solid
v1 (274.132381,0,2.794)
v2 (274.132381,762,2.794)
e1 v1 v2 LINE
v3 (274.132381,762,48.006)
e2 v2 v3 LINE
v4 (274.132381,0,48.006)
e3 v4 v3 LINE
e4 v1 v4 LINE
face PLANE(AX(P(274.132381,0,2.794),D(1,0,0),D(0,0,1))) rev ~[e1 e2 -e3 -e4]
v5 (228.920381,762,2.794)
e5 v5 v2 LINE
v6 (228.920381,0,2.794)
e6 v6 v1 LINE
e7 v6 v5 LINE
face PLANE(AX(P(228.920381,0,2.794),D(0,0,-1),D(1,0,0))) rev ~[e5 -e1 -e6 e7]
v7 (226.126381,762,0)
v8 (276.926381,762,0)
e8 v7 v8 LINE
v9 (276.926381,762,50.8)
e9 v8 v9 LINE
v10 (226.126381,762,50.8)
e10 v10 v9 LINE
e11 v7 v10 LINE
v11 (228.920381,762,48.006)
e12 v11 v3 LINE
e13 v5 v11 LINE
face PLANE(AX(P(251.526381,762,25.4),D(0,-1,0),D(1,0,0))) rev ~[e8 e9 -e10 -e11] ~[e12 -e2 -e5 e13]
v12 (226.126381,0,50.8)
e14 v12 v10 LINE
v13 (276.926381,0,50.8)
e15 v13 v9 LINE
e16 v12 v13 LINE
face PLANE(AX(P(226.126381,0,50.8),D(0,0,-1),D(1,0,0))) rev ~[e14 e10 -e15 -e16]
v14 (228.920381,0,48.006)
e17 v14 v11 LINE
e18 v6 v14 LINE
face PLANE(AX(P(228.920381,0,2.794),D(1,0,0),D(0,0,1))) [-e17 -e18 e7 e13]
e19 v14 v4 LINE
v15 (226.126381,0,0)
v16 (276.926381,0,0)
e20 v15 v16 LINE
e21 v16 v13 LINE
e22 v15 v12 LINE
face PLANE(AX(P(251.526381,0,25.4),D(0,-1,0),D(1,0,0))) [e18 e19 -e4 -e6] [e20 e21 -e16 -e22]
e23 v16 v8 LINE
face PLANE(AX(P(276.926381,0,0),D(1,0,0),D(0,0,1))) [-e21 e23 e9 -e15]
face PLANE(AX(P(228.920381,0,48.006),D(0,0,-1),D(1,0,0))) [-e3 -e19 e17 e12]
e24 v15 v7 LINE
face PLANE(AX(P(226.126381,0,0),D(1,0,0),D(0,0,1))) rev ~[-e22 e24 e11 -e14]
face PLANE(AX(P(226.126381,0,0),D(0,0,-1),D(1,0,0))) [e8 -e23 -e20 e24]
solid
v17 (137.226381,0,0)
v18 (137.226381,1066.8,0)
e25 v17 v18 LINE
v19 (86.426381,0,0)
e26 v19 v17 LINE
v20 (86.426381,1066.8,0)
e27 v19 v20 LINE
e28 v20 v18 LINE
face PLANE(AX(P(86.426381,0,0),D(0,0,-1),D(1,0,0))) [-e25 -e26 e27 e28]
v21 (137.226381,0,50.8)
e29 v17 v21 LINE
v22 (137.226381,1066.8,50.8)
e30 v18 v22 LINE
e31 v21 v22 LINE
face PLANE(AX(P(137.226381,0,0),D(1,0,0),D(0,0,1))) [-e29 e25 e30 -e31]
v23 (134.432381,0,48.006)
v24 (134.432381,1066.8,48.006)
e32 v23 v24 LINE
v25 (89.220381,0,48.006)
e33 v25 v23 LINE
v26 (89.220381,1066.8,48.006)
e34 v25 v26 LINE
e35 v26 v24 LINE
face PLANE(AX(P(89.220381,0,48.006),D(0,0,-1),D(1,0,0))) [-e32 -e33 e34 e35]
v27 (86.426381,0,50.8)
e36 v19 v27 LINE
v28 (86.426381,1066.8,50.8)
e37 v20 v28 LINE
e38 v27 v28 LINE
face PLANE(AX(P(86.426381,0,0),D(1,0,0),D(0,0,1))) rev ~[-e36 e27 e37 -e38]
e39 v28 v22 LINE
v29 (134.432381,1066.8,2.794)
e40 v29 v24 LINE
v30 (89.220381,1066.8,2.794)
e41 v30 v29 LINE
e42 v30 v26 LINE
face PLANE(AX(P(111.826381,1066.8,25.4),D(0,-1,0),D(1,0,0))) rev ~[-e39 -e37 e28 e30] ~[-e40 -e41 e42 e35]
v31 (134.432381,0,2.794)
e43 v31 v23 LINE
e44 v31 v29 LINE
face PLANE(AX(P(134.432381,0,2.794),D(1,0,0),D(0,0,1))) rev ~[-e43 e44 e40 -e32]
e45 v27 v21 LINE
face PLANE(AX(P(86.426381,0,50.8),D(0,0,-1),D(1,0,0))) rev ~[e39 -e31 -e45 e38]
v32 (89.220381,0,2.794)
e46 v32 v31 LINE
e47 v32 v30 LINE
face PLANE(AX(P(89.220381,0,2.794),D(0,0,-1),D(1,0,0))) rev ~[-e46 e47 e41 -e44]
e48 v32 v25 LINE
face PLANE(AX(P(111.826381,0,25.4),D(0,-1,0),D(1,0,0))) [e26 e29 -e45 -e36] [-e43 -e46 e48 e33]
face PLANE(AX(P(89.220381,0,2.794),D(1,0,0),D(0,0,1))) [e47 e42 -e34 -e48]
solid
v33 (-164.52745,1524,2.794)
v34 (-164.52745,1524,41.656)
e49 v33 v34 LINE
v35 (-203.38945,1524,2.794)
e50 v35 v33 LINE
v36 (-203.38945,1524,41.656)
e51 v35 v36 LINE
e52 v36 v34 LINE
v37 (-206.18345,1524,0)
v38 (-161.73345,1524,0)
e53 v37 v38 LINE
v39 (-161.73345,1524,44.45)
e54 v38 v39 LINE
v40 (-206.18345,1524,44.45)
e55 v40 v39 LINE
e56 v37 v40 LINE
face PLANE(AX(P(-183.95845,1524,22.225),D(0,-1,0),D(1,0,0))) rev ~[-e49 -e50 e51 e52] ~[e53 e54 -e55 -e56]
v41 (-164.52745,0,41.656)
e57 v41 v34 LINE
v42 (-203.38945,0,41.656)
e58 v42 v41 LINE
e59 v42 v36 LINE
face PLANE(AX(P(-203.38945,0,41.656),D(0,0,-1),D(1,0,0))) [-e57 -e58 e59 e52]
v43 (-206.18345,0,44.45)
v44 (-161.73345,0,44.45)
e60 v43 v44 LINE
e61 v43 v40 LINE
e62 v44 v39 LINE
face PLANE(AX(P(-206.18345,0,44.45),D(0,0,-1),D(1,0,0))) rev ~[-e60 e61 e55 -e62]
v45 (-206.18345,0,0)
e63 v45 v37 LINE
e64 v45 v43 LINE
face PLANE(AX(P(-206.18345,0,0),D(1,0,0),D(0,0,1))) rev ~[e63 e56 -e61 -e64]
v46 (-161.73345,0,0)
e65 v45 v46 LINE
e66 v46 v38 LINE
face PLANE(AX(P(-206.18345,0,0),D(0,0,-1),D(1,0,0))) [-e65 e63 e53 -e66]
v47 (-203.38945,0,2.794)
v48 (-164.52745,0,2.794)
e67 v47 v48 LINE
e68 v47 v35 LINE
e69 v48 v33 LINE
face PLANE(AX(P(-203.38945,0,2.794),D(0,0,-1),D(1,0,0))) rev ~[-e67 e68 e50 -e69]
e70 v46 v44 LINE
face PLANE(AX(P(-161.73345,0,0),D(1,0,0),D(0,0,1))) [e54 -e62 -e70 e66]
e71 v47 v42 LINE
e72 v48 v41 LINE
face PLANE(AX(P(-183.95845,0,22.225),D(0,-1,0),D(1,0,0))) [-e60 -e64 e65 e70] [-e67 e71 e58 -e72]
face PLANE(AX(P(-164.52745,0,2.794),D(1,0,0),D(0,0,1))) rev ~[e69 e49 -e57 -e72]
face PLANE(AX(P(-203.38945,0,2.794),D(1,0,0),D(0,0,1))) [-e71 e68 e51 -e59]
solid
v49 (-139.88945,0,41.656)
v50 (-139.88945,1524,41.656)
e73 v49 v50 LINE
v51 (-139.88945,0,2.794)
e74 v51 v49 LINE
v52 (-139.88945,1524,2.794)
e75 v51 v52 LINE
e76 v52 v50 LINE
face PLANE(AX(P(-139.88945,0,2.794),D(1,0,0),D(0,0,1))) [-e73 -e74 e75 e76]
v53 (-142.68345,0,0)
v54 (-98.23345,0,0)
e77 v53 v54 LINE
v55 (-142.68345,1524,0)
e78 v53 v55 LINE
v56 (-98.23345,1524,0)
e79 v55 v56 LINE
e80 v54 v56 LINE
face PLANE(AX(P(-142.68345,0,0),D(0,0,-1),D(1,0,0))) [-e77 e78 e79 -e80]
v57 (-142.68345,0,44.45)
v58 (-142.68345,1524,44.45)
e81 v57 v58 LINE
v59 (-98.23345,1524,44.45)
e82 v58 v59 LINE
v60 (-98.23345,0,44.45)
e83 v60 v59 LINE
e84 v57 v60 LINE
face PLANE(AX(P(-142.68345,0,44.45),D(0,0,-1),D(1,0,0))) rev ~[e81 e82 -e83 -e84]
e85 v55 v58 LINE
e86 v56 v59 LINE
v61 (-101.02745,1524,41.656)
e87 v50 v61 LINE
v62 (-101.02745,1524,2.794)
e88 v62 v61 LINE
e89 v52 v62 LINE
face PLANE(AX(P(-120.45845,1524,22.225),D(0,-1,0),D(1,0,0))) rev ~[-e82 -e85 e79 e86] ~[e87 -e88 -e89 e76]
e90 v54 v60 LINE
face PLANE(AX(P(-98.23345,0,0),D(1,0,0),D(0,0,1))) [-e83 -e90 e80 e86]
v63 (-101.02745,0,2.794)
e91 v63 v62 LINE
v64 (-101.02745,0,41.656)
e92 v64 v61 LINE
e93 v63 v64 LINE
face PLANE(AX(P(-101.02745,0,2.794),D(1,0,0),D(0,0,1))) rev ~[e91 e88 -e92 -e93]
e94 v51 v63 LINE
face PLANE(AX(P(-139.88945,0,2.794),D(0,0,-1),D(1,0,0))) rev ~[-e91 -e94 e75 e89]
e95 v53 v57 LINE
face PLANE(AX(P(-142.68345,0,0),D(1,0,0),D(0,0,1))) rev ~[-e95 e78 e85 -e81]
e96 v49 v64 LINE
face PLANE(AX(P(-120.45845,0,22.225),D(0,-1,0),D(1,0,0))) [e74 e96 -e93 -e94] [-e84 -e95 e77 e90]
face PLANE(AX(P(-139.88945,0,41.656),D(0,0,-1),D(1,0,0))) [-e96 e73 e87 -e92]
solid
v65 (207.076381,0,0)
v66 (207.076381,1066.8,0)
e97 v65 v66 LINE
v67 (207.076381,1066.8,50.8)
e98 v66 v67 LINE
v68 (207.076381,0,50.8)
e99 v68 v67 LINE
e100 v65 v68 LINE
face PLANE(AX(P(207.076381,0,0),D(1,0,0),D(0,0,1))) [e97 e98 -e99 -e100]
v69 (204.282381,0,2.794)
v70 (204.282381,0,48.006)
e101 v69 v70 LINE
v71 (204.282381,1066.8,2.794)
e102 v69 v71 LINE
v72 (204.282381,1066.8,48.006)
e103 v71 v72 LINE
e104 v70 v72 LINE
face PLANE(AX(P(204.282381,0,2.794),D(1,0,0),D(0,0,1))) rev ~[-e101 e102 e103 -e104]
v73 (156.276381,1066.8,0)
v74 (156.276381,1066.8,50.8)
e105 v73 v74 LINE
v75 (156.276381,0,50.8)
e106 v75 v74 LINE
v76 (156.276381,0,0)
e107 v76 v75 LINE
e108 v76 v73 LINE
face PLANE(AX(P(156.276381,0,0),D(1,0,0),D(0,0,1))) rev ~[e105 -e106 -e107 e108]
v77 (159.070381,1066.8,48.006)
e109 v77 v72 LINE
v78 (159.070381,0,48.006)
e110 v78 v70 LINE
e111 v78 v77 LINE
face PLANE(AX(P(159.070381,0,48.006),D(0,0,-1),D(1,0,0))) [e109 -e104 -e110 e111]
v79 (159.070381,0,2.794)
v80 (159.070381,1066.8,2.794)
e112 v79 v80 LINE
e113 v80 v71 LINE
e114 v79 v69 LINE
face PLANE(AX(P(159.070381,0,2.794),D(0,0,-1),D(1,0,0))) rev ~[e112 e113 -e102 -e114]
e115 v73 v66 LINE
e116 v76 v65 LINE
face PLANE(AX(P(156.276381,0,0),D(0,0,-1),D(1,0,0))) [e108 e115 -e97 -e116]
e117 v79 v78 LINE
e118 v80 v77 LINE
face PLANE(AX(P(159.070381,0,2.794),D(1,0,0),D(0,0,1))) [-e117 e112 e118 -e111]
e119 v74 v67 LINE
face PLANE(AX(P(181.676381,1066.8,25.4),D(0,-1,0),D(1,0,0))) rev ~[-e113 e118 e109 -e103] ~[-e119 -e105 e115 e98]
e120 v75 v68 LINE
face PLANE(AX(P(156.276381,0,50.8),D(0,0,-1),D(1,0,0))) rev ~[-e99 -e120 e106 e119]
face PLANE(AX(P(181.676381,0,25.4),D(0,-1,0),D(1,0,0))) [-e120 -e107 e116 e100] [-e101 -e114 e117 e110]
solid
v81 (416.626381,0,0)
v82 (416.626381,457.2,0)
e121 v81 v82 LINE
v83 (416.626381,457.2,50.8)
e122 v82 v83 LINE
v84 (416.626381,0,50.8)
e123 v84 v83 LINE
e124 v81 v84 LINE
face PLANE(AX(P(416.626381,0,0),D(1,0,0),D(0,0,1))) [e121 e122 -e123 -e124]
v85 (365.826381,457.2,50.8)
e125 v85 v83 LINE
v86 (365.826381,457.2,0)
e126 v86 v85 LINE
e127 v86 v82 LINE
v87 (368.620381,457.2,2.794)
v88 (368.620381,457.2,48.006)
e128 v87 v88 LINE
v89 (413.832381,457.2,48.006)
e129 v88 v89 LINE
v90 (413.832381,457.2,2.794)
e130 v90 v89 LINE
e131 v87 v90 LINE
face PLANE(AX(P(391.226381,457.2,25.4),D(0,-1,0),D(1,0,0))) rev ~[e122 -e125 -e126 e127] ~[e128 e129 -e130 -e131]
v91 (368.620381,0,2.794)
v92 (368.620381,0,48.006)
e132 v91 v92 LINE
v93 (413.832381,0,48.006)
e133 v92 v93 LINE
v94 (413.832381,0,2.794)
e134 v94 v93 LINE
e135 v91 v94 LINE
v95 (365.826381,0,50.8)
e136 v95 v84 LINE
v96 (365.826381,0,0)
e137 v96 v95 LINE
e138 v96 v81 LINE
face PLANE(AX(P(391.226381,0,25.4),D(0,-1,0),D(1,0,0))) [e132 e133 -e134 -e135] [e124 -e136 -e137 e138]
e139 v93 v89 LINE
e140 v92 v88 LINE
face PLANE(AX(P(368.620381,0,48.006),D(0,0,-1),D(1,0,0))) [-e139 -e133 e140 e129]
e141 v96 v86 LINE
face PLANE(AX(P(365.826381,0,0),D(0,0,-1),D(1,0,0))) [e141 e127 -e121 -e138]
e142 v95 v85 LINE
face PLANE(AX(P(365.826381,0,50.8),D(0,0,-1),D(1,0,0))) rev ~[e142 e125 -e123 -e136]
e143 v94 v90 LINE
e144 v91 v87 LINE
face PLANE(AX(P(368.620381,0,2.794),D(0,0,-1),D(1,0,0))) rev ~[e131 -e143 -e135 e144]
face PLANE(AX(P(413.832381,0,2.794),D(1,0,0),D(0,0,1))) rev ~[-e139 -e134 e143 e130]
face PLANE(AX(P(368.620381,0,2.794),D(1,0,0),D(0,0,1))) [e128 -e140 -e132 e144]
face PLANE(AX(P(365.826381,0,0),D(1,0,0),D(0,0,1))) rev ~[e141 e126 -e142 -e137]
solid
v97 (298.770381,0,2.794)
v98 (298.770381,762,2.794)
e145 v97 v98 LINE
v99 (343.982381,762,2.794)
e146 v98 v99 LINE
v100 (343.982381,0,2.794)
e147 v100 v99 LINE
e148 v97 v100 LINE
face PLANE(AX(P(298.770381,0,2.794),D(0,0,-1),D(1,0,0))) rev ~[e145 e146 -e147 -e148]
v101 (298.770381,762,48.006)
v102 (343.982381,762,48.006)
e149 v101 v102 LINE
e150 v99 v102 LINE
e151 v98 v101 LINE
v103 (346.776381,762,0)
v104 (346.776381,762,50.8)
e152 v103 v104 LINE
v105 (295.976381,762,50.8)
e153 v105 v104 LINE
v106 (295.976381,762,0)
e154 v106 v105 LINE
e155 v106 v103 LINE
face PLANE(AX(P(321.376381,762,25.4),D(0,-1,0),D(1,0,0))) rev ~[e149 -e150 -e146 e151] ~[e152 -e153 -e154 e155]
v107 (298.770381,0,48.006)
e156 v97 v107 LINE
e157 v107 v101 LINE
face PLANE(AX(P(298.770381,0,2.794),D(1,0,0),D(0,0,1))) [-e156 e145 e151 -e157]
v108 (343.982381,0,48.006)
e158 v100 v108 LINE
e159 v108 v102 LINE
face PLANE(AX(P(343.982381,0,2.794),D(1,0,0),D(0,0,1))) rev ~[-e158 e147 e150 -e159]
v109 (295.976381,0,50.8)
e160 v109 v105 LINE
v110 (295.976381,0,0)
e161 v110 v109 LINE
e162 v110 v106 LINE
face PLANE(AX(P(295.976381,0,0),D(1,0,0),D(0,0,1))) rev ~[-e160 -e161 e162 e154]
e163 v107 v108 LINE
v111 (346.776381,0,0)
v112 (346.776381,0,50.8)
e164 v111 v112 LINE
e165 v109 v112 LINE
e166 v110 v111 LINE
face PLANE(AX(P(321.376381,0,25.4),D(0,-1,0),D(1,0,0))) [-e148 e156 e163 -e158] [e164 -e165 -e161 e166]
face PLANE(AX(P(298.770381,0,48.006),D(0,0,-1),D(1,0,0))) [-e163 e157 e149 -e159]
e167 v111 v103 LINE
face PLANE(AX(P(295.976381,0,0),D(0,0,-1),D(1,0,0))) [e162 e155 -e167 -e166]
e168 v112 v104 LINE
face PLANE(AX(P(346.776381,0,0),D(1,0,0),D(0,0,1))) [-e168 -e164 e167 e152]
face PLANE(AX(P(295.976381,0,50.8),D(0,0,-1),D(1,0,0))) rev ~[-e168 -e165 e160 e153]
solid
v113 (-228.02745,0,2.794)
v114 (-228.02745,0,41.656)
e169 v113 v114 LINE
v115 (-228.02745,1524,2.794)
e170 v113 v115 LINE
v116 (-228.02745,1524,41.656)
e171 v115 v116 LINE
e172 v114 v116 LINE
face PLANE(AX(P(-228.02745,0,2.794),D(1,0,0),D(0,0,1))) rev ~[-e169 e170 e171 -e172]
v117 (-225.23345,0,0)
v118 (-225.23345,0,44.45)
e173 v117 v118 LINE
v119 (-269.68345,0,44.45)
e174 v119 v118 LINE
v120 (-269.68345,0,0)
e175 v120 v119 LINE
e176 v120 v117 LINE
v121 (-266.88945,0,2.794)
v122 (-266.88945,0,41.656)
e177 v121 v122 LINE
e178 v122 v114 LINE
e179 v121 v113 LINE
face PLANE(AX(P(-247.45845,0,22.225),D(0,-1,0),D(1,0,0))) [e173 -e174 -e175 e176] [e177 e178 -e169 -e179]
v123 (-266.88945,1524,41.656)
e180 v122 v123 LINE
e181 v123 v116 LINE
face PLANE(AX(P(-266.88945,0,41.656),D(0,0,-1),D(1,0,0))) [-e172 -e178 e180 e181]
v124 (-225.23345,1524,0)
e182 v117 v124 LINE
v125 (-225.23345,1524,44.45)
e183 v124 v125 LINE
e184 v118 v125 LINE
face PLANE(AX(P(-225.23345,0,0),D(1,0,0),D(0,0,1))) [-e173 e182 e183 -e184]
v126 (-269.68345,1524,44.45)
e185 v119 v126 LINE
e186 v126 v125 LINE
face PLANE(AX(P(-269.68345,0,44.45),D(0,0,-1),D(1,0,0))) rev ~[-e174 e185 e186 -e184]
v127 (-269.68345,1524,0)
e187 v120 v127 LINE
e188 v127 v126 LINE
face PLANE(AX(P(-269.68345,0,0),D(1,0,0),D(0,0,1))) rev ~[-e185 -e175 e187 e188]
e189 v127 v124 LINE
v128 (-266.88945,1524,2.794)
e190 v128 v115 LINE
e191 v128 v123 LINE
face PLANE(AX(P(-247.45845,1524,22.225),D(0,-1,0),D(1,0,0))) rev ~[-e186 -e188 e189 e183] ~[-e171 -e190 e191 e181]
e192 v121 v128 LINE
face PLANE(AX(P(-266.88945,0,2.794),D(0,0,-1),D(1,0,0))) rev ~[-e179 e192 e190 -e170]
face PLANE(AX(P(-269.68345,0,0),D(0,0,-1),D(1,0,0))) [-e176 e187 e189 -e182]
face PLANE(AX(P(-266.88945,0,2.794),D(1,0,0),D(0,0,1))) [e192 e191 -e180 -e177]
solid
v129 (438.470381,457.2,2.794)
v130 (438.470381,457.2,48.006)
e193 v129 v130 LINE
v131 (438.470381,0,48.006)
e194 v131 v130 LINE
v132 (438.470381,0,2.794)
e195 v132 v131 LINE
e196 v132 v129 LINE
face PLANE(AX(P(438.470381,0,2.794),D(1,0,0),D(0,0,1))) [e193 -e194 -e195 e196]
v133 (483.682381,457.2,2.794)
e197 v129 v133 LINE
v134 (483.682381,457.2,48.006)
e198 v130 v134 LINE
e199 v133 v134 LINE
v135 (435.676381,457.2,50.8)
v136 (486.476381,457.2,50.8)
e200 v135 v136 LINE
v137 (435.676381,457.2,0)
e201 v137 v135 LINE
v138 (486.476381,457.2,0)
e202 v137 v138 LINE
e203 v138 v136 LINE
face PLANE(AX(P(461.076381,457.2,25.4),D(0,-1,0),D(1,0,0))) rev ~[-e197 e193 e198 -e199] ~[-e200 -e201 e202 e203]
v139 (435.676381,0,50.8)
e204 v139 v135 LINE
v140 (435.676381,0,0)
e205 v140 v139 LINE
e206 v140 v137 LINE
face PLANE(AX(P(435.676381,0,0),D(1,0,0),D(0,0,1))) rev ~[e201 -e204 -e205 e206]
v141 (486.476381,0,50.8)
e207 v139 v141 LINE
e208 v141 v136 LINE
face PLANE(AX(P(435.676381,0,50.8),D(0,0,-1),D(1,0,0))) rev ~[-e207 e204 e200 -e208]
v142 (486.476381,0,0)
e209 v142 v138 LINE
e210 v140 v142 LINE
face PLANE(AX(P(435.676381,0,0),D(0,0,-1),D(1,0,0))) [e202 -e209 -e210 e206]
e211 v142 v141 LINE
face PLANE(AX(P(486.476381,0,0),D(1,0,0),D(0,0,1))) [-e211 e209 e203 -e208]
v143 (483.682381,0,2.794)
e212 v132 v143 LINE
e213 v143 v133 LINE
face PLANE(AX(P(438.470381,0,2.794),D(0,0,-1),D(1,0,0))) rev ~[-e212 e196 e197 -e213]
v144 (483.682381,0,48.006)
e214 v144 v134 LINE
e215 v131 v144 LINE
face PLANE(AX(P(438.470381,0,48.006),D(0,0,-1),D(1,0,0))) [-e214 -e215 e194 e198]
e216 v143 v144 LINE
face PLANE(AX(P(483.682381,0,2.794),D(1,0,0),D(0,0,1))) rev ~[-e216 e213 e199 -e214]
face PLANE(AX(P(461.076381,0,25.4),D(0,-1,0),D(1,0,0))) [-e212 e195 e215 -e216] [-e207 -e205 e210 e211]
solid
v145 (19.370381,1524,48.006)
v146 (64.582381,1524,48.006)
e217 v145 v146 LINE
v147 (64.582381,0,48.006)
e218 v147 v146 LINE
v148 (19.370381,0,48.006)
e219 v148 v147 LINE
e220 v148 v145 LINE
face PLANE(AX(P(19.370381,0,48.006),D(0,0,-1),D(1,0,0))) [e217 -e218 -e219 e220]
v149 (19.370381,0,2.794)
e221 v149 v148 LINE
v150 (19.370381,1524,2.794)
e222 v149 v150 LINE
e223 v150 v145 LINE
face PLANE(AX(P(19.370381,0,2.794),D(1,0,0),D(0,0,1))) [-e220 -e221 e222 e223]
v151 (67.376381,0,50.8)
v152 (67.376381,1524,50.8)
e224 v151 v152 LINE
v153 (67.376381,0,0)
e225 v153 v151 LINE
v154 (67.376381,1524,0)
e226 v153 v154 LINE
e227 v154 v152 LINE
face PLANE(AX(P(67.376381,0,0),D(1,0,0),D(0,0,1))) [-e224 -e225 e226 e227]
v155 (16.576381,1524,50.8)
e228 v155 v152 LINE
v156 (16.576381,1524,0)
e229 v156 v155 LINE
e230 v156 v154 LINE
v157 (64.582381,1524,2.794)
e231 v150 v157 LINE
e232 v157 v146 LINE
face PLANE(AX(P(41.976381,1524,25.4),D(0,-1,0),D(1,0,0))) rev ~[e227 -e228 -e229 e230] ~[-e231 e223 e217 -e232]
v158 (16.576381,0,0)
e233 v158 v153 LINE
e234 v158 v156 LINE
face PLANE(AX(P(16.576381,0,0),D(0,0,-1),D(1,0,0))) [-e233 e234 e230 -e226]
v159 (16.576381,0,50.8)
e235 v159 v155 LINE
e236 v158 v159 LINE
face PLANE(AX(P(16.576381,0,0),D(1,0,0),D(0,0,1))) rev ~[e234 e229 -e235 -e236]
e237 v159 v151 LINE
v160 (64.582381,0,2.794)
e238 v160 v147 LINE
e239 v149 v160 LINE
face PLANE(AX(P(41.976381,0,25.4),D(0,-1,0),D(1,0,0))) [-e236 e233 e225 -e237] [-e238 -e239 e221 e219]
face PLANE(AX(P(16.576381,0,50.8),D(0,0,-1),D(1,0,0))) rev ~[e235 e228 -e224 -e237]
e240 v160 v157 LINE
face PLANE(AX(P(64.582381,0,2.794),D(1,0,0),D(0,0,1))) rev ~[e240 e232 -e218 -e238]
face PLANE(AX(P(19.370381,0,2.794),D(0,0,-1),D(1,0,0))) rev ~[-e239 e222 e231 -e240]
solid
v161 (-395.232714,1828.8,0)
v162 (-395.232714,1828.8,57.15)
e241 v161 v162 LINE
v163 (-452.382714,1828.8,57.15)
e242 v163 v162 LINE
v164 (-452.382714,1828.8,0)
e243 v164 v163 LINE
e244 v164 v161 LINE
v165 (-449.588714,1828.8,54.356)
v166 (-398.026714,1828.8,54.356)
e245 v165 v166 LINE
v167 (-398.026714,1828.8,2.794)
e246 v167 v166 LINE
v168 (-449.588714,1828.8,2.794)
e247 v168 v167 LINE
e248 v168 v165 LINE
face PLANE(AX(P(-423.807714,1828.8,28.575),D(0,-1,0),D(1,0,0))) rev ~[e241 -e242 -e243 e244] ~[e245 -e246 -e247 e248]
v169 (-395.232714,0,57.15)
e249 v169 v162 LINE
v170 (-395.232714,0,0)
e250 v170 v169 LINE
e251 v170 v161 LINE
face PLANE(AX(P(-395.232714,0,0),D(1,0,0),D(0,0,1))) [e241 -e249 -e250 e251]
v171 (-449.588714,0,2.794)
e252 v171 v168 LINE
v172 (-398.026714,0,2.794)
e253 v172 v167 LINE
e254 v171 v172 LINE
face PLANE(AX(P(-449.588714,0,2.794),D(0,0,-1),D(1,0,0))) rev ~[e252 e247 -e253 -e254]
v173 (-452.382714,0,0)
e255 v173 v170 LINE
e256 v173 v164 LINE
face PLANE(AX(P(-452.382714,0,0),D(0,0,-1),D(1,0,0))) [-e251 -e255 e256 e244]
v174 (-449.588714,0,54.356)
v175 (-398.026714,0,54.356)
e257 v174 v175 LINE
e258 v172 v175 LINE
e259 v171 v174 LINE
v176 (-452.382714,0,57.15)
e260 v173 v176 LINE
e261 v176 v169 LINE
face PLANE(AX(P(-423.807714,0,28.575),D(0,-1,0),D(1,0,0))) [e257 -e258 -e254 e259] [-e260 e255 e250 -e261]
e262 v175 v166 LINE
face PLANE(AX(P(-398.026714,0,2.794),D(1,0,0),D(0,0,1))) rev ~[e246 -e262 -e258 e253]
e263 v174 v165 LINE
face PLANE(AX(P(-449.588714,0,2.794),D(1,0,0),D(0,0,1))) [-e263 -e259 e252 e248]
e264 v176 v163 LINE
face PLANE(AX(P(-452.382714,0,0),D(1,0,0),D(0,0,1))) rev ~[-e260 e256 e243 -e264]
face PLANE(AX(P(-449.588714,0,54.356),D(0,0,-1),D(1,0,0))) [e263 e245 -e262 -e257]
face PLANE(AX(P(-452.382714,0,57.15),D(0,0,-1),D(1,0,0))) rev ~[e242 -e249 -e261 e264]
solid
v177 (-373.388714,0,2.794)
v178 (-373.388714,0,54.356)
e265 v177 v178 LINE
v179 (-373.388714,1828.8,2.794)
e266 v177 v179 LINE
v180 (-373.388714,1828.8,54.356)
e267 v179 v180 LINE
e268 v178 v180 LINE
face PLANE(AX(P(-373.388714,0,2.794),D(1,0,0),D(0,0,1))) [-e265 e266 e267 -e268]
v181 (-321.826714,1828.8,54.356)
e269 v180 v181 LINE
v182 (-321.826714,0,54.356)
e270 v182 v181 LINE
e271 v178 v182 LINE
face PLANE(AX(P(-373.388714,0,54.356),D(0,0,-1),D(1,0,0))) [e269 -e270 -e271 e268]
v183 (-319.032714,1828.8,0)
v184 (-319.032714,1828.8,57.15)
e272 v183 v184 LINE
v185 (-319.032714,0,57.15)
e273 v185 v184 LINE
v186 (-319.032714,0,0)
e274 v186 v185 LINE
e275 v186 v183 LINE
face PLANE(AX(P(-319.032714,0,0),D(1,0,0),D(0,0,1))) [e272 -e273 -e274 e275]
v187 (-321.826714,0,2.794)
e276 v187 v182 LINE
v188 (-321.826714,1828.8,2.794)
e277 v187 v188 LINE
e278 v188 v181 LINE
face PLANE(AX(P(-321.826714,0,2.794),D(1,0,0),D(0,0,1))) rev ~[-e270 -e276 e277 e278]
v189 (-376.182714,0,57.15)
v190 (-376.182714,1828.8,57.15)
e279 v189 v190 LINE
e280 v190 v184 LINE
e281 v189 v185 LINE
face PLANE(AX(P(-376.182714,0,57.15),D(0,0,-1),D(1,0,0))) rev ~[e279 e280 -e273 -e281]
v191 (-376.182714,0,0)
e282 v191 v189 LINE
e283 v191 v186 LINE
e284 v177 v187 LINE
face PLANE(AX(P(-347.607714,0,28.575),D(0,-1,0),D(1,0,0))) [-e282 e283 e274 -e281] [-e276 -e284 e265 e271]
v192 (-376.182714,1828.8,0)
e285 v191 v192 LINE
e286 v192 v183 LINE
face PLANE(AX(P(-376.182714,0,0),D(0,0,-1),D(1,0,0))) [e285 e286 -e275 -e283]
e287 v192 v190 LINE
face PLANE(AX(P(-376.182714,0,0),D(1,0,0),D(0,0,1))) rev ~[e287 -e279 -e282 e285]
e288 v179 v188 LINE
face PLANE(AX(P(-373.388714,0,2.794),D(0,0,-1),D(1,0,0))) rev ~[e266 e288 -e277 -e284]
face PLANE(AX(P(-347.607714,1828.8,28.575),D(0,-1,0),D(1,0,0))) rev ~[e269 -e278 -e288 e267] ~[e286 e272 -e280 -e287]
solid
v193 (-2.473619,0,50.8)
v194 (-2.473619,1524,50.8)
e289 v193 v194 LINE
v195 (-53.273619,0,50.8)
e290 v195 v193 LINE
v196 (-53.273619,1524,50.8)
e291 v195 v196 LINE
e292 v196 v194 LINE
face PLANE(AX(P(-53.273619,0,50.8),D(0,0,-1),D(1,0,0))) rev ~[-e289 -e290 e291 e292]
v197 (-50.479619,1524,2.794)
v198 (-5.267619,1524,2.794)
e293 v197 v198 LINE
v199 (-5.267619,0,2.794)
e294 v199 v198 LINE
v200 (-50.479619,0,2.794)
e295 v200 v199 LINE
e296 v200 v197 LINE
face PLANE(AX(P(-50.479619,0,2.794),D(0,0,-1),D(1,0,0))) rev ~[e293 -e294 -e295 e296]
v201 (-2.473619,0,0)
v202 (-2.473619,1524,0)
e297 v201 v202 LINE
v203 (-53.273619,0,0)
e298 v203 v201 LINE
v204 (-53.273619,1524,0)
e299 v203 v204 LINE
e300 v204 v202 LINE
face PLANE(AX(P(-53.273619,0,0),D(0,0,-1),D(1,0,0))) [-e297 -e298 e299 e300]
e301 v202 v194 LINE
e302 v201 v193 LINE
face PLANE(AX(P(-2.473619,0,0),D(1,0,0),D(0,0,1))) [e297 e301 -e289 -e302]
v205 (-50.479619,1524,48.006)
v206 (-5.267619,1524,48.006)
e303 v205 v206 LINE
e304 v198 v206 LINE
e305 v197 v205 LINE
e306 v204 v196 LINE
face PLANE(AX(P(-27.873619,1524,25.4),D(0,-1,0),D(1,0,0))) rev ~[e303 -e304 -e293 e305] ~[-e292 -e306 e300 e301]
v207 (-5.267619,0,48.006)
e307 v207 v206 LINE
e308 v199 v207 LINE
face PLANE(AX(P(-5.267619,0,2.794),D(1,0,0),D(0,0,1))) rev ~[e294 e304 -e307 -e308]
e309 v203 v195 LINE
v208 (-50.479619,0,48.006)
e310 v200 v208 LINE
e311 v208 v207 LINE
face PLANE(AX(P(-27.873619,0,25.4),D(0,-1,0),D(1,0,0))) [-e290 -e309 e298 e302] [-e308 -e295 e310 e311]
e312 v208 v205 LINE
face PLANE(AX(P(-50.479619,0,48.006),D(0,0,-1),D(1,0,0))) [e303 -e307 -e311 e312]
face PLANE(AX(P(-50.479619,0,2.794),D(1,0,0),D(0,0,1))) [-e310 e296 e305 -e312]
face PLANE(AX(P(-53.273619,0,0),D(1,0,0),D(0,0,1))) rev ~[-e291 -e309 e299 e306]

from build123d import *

# Parameters (mm, degrees)
F0_W     = 44.45
F0_H     = 44.45
F0_W_2   = 38.862
F0_H_2   = 38.862
F1_DEPTH = 1524
F0_W_3   = 50.8
F0_H_3   = 50.8
F0_W_4   = 45.212
F0_H_4   = 45.212
F2_DEPTH = 1524
F3_DEPTH = 1066.8
F4_DEPTH = 762
F5_DEPTH = 457.2
F0_W_5   = 57.15
F0_H_5   = 57.15
F0_W_6   = 51.562
F0_H_6   = 51.562
F6_DEPTH = 1828.8


with BuildPart() as f1:
    # F0 (on Front) → F1 (new body)
    with BuildSketch(Plane.XZ):
        with Locations((-247.45845, 22.225)):
            Rectangle(F0_W, F0_H)
        with Locations((-247.45845, 22.225)):
            Rectangle(F0_W_2, F0_H_2, mode=Mode.SUBTRACT)
        with Locations((-183.95845, 22.225)):
            Rectangle(F0_W, F0_H)
        with Locations((-183.95845, 22.225)):
            Rectangle(F0_W_2, F0_H_2, mode=Mode.SUBTRACT)
        with Locations((-120.45845, 22.225)):
            Rectangle(F0_W, F0_H)
        with Locations((-120.45845, 22.225)):
            Rectangle(F0_W_2, F0_H_2, mode=Mode.SUBTRACT)
    extrude(amount=-F1_DEPTH)


with BuildPart() as f2:
    # F0 (on Front) → F2 (new body)
    with BuildSketch(Plane.XZ):
        with Locations((-27.873619, 25.4)):
            Rectangle(F0_W_3, F0_H_3)
        with Locations((-27.873619, 25.4)):
            Rectangle(F0_W_4, F0_H_4, mode=Mode.SUBTRACT)
        with Locations((41.976381, 25.4)):
            Rectangle(F0_W_3, F0_H_3)
        with Locations((41.976381, 25.4)):
            Rectangle(F0_W_4, F0_H_4, mode=Mode.SUBTRACT)
    extrude(amount=-F2_DEPTH)


with BuildPart() as f3:
    # F0 (on Front) → F3 (new body)
    with BuildSketch(Plane.XZ):
        with Locations((111.826381, 25.4)):
            Rectangle(F0_W_3, F0_H_3)
        with Locations((111.826381, 25.4)):
            Rectangle(F0_W_4, F0_H_4, mode=Mode.SUBTRACT)
        with Locations((181.676381, 25.4)):
            Rectangle(F0_W_3, F0_H_3)
        with Locations((181.676381, 25.4)):
            Rectangle(F0_W_4, F0_H_4, mode=Mode.SUBTRACT)
    extrude(amount=-F3_DEPTH)


with BuildPart() as f4:
    # F0 (on Front) → F4 (new body)
    with BuildSketch(Plane.XZ):
        with Locations((251.526381, 25.4)):
            Rectangle(F0_W_3, F0_H_3)
        with Locations((251.526381, 25.4)):
            Rectangle(F0_W_4, F0_H_4, mode=Mode.SUBTRACT)
        with Locations((321.376381, 25.4)):
            Rectangle(F0_W_3, F0_H_3)
        with Locations((321.376381, 25.4)):
            Rectangle(F0_W_4, F0_H_4, mode=Mode.SUBTRACT)
    extrude(amount=-F4_DEPTH)


with BuildPart() as f5:
    # F0 (on Front) → F5 (new body)
    with BuildSketch(Plane.XZ):
        with Locations((391.226381, 25.4)):
            Rectangle(F0_W_3, F0_H_3)
        with Locations((391.226381, 25.4)):
            Rectangle(F0_W_4, F0_H_4, mode=Mode.SUBTRACT)
        with Locations((461.076381, 25.4)):
            Rectangle(F0_W_3, F0_H_3)
        with Locations((461.076381, 25.4)):
            Rectangle(F0_W_4, F0_H_4, mode=Mode.SUBTRACT)
    extrude(amount=-F5_DEPTH)


with BuildPart() as f6:
    # F0 (on Front) → F6 (new body)
    with BuildSketch(Plane.XZ):
        with Locations((-423.807714, 28.575)):
            Rectangle(F0_W_5, F0_H_5)
        with Locations((-423.807714, 28.575)):
            Rectangle(F0_W_6, F0_H_6, mode=Mode.SUBTRACT)
        with Locations((-347.607714, 28.575)):
            Rectangle(F0_W_5, F0_H_5)
        with Locations((-347.607714, 28.575)):
            Rectangle(F0_W_6, F0_H_6, mode=Mode.SUBTRACT)
    extrude(amount=-F6_DEPTH)


solid = Compound([f1.part, f2.part, f3.part, f4.part, f5.part, f6.part])
